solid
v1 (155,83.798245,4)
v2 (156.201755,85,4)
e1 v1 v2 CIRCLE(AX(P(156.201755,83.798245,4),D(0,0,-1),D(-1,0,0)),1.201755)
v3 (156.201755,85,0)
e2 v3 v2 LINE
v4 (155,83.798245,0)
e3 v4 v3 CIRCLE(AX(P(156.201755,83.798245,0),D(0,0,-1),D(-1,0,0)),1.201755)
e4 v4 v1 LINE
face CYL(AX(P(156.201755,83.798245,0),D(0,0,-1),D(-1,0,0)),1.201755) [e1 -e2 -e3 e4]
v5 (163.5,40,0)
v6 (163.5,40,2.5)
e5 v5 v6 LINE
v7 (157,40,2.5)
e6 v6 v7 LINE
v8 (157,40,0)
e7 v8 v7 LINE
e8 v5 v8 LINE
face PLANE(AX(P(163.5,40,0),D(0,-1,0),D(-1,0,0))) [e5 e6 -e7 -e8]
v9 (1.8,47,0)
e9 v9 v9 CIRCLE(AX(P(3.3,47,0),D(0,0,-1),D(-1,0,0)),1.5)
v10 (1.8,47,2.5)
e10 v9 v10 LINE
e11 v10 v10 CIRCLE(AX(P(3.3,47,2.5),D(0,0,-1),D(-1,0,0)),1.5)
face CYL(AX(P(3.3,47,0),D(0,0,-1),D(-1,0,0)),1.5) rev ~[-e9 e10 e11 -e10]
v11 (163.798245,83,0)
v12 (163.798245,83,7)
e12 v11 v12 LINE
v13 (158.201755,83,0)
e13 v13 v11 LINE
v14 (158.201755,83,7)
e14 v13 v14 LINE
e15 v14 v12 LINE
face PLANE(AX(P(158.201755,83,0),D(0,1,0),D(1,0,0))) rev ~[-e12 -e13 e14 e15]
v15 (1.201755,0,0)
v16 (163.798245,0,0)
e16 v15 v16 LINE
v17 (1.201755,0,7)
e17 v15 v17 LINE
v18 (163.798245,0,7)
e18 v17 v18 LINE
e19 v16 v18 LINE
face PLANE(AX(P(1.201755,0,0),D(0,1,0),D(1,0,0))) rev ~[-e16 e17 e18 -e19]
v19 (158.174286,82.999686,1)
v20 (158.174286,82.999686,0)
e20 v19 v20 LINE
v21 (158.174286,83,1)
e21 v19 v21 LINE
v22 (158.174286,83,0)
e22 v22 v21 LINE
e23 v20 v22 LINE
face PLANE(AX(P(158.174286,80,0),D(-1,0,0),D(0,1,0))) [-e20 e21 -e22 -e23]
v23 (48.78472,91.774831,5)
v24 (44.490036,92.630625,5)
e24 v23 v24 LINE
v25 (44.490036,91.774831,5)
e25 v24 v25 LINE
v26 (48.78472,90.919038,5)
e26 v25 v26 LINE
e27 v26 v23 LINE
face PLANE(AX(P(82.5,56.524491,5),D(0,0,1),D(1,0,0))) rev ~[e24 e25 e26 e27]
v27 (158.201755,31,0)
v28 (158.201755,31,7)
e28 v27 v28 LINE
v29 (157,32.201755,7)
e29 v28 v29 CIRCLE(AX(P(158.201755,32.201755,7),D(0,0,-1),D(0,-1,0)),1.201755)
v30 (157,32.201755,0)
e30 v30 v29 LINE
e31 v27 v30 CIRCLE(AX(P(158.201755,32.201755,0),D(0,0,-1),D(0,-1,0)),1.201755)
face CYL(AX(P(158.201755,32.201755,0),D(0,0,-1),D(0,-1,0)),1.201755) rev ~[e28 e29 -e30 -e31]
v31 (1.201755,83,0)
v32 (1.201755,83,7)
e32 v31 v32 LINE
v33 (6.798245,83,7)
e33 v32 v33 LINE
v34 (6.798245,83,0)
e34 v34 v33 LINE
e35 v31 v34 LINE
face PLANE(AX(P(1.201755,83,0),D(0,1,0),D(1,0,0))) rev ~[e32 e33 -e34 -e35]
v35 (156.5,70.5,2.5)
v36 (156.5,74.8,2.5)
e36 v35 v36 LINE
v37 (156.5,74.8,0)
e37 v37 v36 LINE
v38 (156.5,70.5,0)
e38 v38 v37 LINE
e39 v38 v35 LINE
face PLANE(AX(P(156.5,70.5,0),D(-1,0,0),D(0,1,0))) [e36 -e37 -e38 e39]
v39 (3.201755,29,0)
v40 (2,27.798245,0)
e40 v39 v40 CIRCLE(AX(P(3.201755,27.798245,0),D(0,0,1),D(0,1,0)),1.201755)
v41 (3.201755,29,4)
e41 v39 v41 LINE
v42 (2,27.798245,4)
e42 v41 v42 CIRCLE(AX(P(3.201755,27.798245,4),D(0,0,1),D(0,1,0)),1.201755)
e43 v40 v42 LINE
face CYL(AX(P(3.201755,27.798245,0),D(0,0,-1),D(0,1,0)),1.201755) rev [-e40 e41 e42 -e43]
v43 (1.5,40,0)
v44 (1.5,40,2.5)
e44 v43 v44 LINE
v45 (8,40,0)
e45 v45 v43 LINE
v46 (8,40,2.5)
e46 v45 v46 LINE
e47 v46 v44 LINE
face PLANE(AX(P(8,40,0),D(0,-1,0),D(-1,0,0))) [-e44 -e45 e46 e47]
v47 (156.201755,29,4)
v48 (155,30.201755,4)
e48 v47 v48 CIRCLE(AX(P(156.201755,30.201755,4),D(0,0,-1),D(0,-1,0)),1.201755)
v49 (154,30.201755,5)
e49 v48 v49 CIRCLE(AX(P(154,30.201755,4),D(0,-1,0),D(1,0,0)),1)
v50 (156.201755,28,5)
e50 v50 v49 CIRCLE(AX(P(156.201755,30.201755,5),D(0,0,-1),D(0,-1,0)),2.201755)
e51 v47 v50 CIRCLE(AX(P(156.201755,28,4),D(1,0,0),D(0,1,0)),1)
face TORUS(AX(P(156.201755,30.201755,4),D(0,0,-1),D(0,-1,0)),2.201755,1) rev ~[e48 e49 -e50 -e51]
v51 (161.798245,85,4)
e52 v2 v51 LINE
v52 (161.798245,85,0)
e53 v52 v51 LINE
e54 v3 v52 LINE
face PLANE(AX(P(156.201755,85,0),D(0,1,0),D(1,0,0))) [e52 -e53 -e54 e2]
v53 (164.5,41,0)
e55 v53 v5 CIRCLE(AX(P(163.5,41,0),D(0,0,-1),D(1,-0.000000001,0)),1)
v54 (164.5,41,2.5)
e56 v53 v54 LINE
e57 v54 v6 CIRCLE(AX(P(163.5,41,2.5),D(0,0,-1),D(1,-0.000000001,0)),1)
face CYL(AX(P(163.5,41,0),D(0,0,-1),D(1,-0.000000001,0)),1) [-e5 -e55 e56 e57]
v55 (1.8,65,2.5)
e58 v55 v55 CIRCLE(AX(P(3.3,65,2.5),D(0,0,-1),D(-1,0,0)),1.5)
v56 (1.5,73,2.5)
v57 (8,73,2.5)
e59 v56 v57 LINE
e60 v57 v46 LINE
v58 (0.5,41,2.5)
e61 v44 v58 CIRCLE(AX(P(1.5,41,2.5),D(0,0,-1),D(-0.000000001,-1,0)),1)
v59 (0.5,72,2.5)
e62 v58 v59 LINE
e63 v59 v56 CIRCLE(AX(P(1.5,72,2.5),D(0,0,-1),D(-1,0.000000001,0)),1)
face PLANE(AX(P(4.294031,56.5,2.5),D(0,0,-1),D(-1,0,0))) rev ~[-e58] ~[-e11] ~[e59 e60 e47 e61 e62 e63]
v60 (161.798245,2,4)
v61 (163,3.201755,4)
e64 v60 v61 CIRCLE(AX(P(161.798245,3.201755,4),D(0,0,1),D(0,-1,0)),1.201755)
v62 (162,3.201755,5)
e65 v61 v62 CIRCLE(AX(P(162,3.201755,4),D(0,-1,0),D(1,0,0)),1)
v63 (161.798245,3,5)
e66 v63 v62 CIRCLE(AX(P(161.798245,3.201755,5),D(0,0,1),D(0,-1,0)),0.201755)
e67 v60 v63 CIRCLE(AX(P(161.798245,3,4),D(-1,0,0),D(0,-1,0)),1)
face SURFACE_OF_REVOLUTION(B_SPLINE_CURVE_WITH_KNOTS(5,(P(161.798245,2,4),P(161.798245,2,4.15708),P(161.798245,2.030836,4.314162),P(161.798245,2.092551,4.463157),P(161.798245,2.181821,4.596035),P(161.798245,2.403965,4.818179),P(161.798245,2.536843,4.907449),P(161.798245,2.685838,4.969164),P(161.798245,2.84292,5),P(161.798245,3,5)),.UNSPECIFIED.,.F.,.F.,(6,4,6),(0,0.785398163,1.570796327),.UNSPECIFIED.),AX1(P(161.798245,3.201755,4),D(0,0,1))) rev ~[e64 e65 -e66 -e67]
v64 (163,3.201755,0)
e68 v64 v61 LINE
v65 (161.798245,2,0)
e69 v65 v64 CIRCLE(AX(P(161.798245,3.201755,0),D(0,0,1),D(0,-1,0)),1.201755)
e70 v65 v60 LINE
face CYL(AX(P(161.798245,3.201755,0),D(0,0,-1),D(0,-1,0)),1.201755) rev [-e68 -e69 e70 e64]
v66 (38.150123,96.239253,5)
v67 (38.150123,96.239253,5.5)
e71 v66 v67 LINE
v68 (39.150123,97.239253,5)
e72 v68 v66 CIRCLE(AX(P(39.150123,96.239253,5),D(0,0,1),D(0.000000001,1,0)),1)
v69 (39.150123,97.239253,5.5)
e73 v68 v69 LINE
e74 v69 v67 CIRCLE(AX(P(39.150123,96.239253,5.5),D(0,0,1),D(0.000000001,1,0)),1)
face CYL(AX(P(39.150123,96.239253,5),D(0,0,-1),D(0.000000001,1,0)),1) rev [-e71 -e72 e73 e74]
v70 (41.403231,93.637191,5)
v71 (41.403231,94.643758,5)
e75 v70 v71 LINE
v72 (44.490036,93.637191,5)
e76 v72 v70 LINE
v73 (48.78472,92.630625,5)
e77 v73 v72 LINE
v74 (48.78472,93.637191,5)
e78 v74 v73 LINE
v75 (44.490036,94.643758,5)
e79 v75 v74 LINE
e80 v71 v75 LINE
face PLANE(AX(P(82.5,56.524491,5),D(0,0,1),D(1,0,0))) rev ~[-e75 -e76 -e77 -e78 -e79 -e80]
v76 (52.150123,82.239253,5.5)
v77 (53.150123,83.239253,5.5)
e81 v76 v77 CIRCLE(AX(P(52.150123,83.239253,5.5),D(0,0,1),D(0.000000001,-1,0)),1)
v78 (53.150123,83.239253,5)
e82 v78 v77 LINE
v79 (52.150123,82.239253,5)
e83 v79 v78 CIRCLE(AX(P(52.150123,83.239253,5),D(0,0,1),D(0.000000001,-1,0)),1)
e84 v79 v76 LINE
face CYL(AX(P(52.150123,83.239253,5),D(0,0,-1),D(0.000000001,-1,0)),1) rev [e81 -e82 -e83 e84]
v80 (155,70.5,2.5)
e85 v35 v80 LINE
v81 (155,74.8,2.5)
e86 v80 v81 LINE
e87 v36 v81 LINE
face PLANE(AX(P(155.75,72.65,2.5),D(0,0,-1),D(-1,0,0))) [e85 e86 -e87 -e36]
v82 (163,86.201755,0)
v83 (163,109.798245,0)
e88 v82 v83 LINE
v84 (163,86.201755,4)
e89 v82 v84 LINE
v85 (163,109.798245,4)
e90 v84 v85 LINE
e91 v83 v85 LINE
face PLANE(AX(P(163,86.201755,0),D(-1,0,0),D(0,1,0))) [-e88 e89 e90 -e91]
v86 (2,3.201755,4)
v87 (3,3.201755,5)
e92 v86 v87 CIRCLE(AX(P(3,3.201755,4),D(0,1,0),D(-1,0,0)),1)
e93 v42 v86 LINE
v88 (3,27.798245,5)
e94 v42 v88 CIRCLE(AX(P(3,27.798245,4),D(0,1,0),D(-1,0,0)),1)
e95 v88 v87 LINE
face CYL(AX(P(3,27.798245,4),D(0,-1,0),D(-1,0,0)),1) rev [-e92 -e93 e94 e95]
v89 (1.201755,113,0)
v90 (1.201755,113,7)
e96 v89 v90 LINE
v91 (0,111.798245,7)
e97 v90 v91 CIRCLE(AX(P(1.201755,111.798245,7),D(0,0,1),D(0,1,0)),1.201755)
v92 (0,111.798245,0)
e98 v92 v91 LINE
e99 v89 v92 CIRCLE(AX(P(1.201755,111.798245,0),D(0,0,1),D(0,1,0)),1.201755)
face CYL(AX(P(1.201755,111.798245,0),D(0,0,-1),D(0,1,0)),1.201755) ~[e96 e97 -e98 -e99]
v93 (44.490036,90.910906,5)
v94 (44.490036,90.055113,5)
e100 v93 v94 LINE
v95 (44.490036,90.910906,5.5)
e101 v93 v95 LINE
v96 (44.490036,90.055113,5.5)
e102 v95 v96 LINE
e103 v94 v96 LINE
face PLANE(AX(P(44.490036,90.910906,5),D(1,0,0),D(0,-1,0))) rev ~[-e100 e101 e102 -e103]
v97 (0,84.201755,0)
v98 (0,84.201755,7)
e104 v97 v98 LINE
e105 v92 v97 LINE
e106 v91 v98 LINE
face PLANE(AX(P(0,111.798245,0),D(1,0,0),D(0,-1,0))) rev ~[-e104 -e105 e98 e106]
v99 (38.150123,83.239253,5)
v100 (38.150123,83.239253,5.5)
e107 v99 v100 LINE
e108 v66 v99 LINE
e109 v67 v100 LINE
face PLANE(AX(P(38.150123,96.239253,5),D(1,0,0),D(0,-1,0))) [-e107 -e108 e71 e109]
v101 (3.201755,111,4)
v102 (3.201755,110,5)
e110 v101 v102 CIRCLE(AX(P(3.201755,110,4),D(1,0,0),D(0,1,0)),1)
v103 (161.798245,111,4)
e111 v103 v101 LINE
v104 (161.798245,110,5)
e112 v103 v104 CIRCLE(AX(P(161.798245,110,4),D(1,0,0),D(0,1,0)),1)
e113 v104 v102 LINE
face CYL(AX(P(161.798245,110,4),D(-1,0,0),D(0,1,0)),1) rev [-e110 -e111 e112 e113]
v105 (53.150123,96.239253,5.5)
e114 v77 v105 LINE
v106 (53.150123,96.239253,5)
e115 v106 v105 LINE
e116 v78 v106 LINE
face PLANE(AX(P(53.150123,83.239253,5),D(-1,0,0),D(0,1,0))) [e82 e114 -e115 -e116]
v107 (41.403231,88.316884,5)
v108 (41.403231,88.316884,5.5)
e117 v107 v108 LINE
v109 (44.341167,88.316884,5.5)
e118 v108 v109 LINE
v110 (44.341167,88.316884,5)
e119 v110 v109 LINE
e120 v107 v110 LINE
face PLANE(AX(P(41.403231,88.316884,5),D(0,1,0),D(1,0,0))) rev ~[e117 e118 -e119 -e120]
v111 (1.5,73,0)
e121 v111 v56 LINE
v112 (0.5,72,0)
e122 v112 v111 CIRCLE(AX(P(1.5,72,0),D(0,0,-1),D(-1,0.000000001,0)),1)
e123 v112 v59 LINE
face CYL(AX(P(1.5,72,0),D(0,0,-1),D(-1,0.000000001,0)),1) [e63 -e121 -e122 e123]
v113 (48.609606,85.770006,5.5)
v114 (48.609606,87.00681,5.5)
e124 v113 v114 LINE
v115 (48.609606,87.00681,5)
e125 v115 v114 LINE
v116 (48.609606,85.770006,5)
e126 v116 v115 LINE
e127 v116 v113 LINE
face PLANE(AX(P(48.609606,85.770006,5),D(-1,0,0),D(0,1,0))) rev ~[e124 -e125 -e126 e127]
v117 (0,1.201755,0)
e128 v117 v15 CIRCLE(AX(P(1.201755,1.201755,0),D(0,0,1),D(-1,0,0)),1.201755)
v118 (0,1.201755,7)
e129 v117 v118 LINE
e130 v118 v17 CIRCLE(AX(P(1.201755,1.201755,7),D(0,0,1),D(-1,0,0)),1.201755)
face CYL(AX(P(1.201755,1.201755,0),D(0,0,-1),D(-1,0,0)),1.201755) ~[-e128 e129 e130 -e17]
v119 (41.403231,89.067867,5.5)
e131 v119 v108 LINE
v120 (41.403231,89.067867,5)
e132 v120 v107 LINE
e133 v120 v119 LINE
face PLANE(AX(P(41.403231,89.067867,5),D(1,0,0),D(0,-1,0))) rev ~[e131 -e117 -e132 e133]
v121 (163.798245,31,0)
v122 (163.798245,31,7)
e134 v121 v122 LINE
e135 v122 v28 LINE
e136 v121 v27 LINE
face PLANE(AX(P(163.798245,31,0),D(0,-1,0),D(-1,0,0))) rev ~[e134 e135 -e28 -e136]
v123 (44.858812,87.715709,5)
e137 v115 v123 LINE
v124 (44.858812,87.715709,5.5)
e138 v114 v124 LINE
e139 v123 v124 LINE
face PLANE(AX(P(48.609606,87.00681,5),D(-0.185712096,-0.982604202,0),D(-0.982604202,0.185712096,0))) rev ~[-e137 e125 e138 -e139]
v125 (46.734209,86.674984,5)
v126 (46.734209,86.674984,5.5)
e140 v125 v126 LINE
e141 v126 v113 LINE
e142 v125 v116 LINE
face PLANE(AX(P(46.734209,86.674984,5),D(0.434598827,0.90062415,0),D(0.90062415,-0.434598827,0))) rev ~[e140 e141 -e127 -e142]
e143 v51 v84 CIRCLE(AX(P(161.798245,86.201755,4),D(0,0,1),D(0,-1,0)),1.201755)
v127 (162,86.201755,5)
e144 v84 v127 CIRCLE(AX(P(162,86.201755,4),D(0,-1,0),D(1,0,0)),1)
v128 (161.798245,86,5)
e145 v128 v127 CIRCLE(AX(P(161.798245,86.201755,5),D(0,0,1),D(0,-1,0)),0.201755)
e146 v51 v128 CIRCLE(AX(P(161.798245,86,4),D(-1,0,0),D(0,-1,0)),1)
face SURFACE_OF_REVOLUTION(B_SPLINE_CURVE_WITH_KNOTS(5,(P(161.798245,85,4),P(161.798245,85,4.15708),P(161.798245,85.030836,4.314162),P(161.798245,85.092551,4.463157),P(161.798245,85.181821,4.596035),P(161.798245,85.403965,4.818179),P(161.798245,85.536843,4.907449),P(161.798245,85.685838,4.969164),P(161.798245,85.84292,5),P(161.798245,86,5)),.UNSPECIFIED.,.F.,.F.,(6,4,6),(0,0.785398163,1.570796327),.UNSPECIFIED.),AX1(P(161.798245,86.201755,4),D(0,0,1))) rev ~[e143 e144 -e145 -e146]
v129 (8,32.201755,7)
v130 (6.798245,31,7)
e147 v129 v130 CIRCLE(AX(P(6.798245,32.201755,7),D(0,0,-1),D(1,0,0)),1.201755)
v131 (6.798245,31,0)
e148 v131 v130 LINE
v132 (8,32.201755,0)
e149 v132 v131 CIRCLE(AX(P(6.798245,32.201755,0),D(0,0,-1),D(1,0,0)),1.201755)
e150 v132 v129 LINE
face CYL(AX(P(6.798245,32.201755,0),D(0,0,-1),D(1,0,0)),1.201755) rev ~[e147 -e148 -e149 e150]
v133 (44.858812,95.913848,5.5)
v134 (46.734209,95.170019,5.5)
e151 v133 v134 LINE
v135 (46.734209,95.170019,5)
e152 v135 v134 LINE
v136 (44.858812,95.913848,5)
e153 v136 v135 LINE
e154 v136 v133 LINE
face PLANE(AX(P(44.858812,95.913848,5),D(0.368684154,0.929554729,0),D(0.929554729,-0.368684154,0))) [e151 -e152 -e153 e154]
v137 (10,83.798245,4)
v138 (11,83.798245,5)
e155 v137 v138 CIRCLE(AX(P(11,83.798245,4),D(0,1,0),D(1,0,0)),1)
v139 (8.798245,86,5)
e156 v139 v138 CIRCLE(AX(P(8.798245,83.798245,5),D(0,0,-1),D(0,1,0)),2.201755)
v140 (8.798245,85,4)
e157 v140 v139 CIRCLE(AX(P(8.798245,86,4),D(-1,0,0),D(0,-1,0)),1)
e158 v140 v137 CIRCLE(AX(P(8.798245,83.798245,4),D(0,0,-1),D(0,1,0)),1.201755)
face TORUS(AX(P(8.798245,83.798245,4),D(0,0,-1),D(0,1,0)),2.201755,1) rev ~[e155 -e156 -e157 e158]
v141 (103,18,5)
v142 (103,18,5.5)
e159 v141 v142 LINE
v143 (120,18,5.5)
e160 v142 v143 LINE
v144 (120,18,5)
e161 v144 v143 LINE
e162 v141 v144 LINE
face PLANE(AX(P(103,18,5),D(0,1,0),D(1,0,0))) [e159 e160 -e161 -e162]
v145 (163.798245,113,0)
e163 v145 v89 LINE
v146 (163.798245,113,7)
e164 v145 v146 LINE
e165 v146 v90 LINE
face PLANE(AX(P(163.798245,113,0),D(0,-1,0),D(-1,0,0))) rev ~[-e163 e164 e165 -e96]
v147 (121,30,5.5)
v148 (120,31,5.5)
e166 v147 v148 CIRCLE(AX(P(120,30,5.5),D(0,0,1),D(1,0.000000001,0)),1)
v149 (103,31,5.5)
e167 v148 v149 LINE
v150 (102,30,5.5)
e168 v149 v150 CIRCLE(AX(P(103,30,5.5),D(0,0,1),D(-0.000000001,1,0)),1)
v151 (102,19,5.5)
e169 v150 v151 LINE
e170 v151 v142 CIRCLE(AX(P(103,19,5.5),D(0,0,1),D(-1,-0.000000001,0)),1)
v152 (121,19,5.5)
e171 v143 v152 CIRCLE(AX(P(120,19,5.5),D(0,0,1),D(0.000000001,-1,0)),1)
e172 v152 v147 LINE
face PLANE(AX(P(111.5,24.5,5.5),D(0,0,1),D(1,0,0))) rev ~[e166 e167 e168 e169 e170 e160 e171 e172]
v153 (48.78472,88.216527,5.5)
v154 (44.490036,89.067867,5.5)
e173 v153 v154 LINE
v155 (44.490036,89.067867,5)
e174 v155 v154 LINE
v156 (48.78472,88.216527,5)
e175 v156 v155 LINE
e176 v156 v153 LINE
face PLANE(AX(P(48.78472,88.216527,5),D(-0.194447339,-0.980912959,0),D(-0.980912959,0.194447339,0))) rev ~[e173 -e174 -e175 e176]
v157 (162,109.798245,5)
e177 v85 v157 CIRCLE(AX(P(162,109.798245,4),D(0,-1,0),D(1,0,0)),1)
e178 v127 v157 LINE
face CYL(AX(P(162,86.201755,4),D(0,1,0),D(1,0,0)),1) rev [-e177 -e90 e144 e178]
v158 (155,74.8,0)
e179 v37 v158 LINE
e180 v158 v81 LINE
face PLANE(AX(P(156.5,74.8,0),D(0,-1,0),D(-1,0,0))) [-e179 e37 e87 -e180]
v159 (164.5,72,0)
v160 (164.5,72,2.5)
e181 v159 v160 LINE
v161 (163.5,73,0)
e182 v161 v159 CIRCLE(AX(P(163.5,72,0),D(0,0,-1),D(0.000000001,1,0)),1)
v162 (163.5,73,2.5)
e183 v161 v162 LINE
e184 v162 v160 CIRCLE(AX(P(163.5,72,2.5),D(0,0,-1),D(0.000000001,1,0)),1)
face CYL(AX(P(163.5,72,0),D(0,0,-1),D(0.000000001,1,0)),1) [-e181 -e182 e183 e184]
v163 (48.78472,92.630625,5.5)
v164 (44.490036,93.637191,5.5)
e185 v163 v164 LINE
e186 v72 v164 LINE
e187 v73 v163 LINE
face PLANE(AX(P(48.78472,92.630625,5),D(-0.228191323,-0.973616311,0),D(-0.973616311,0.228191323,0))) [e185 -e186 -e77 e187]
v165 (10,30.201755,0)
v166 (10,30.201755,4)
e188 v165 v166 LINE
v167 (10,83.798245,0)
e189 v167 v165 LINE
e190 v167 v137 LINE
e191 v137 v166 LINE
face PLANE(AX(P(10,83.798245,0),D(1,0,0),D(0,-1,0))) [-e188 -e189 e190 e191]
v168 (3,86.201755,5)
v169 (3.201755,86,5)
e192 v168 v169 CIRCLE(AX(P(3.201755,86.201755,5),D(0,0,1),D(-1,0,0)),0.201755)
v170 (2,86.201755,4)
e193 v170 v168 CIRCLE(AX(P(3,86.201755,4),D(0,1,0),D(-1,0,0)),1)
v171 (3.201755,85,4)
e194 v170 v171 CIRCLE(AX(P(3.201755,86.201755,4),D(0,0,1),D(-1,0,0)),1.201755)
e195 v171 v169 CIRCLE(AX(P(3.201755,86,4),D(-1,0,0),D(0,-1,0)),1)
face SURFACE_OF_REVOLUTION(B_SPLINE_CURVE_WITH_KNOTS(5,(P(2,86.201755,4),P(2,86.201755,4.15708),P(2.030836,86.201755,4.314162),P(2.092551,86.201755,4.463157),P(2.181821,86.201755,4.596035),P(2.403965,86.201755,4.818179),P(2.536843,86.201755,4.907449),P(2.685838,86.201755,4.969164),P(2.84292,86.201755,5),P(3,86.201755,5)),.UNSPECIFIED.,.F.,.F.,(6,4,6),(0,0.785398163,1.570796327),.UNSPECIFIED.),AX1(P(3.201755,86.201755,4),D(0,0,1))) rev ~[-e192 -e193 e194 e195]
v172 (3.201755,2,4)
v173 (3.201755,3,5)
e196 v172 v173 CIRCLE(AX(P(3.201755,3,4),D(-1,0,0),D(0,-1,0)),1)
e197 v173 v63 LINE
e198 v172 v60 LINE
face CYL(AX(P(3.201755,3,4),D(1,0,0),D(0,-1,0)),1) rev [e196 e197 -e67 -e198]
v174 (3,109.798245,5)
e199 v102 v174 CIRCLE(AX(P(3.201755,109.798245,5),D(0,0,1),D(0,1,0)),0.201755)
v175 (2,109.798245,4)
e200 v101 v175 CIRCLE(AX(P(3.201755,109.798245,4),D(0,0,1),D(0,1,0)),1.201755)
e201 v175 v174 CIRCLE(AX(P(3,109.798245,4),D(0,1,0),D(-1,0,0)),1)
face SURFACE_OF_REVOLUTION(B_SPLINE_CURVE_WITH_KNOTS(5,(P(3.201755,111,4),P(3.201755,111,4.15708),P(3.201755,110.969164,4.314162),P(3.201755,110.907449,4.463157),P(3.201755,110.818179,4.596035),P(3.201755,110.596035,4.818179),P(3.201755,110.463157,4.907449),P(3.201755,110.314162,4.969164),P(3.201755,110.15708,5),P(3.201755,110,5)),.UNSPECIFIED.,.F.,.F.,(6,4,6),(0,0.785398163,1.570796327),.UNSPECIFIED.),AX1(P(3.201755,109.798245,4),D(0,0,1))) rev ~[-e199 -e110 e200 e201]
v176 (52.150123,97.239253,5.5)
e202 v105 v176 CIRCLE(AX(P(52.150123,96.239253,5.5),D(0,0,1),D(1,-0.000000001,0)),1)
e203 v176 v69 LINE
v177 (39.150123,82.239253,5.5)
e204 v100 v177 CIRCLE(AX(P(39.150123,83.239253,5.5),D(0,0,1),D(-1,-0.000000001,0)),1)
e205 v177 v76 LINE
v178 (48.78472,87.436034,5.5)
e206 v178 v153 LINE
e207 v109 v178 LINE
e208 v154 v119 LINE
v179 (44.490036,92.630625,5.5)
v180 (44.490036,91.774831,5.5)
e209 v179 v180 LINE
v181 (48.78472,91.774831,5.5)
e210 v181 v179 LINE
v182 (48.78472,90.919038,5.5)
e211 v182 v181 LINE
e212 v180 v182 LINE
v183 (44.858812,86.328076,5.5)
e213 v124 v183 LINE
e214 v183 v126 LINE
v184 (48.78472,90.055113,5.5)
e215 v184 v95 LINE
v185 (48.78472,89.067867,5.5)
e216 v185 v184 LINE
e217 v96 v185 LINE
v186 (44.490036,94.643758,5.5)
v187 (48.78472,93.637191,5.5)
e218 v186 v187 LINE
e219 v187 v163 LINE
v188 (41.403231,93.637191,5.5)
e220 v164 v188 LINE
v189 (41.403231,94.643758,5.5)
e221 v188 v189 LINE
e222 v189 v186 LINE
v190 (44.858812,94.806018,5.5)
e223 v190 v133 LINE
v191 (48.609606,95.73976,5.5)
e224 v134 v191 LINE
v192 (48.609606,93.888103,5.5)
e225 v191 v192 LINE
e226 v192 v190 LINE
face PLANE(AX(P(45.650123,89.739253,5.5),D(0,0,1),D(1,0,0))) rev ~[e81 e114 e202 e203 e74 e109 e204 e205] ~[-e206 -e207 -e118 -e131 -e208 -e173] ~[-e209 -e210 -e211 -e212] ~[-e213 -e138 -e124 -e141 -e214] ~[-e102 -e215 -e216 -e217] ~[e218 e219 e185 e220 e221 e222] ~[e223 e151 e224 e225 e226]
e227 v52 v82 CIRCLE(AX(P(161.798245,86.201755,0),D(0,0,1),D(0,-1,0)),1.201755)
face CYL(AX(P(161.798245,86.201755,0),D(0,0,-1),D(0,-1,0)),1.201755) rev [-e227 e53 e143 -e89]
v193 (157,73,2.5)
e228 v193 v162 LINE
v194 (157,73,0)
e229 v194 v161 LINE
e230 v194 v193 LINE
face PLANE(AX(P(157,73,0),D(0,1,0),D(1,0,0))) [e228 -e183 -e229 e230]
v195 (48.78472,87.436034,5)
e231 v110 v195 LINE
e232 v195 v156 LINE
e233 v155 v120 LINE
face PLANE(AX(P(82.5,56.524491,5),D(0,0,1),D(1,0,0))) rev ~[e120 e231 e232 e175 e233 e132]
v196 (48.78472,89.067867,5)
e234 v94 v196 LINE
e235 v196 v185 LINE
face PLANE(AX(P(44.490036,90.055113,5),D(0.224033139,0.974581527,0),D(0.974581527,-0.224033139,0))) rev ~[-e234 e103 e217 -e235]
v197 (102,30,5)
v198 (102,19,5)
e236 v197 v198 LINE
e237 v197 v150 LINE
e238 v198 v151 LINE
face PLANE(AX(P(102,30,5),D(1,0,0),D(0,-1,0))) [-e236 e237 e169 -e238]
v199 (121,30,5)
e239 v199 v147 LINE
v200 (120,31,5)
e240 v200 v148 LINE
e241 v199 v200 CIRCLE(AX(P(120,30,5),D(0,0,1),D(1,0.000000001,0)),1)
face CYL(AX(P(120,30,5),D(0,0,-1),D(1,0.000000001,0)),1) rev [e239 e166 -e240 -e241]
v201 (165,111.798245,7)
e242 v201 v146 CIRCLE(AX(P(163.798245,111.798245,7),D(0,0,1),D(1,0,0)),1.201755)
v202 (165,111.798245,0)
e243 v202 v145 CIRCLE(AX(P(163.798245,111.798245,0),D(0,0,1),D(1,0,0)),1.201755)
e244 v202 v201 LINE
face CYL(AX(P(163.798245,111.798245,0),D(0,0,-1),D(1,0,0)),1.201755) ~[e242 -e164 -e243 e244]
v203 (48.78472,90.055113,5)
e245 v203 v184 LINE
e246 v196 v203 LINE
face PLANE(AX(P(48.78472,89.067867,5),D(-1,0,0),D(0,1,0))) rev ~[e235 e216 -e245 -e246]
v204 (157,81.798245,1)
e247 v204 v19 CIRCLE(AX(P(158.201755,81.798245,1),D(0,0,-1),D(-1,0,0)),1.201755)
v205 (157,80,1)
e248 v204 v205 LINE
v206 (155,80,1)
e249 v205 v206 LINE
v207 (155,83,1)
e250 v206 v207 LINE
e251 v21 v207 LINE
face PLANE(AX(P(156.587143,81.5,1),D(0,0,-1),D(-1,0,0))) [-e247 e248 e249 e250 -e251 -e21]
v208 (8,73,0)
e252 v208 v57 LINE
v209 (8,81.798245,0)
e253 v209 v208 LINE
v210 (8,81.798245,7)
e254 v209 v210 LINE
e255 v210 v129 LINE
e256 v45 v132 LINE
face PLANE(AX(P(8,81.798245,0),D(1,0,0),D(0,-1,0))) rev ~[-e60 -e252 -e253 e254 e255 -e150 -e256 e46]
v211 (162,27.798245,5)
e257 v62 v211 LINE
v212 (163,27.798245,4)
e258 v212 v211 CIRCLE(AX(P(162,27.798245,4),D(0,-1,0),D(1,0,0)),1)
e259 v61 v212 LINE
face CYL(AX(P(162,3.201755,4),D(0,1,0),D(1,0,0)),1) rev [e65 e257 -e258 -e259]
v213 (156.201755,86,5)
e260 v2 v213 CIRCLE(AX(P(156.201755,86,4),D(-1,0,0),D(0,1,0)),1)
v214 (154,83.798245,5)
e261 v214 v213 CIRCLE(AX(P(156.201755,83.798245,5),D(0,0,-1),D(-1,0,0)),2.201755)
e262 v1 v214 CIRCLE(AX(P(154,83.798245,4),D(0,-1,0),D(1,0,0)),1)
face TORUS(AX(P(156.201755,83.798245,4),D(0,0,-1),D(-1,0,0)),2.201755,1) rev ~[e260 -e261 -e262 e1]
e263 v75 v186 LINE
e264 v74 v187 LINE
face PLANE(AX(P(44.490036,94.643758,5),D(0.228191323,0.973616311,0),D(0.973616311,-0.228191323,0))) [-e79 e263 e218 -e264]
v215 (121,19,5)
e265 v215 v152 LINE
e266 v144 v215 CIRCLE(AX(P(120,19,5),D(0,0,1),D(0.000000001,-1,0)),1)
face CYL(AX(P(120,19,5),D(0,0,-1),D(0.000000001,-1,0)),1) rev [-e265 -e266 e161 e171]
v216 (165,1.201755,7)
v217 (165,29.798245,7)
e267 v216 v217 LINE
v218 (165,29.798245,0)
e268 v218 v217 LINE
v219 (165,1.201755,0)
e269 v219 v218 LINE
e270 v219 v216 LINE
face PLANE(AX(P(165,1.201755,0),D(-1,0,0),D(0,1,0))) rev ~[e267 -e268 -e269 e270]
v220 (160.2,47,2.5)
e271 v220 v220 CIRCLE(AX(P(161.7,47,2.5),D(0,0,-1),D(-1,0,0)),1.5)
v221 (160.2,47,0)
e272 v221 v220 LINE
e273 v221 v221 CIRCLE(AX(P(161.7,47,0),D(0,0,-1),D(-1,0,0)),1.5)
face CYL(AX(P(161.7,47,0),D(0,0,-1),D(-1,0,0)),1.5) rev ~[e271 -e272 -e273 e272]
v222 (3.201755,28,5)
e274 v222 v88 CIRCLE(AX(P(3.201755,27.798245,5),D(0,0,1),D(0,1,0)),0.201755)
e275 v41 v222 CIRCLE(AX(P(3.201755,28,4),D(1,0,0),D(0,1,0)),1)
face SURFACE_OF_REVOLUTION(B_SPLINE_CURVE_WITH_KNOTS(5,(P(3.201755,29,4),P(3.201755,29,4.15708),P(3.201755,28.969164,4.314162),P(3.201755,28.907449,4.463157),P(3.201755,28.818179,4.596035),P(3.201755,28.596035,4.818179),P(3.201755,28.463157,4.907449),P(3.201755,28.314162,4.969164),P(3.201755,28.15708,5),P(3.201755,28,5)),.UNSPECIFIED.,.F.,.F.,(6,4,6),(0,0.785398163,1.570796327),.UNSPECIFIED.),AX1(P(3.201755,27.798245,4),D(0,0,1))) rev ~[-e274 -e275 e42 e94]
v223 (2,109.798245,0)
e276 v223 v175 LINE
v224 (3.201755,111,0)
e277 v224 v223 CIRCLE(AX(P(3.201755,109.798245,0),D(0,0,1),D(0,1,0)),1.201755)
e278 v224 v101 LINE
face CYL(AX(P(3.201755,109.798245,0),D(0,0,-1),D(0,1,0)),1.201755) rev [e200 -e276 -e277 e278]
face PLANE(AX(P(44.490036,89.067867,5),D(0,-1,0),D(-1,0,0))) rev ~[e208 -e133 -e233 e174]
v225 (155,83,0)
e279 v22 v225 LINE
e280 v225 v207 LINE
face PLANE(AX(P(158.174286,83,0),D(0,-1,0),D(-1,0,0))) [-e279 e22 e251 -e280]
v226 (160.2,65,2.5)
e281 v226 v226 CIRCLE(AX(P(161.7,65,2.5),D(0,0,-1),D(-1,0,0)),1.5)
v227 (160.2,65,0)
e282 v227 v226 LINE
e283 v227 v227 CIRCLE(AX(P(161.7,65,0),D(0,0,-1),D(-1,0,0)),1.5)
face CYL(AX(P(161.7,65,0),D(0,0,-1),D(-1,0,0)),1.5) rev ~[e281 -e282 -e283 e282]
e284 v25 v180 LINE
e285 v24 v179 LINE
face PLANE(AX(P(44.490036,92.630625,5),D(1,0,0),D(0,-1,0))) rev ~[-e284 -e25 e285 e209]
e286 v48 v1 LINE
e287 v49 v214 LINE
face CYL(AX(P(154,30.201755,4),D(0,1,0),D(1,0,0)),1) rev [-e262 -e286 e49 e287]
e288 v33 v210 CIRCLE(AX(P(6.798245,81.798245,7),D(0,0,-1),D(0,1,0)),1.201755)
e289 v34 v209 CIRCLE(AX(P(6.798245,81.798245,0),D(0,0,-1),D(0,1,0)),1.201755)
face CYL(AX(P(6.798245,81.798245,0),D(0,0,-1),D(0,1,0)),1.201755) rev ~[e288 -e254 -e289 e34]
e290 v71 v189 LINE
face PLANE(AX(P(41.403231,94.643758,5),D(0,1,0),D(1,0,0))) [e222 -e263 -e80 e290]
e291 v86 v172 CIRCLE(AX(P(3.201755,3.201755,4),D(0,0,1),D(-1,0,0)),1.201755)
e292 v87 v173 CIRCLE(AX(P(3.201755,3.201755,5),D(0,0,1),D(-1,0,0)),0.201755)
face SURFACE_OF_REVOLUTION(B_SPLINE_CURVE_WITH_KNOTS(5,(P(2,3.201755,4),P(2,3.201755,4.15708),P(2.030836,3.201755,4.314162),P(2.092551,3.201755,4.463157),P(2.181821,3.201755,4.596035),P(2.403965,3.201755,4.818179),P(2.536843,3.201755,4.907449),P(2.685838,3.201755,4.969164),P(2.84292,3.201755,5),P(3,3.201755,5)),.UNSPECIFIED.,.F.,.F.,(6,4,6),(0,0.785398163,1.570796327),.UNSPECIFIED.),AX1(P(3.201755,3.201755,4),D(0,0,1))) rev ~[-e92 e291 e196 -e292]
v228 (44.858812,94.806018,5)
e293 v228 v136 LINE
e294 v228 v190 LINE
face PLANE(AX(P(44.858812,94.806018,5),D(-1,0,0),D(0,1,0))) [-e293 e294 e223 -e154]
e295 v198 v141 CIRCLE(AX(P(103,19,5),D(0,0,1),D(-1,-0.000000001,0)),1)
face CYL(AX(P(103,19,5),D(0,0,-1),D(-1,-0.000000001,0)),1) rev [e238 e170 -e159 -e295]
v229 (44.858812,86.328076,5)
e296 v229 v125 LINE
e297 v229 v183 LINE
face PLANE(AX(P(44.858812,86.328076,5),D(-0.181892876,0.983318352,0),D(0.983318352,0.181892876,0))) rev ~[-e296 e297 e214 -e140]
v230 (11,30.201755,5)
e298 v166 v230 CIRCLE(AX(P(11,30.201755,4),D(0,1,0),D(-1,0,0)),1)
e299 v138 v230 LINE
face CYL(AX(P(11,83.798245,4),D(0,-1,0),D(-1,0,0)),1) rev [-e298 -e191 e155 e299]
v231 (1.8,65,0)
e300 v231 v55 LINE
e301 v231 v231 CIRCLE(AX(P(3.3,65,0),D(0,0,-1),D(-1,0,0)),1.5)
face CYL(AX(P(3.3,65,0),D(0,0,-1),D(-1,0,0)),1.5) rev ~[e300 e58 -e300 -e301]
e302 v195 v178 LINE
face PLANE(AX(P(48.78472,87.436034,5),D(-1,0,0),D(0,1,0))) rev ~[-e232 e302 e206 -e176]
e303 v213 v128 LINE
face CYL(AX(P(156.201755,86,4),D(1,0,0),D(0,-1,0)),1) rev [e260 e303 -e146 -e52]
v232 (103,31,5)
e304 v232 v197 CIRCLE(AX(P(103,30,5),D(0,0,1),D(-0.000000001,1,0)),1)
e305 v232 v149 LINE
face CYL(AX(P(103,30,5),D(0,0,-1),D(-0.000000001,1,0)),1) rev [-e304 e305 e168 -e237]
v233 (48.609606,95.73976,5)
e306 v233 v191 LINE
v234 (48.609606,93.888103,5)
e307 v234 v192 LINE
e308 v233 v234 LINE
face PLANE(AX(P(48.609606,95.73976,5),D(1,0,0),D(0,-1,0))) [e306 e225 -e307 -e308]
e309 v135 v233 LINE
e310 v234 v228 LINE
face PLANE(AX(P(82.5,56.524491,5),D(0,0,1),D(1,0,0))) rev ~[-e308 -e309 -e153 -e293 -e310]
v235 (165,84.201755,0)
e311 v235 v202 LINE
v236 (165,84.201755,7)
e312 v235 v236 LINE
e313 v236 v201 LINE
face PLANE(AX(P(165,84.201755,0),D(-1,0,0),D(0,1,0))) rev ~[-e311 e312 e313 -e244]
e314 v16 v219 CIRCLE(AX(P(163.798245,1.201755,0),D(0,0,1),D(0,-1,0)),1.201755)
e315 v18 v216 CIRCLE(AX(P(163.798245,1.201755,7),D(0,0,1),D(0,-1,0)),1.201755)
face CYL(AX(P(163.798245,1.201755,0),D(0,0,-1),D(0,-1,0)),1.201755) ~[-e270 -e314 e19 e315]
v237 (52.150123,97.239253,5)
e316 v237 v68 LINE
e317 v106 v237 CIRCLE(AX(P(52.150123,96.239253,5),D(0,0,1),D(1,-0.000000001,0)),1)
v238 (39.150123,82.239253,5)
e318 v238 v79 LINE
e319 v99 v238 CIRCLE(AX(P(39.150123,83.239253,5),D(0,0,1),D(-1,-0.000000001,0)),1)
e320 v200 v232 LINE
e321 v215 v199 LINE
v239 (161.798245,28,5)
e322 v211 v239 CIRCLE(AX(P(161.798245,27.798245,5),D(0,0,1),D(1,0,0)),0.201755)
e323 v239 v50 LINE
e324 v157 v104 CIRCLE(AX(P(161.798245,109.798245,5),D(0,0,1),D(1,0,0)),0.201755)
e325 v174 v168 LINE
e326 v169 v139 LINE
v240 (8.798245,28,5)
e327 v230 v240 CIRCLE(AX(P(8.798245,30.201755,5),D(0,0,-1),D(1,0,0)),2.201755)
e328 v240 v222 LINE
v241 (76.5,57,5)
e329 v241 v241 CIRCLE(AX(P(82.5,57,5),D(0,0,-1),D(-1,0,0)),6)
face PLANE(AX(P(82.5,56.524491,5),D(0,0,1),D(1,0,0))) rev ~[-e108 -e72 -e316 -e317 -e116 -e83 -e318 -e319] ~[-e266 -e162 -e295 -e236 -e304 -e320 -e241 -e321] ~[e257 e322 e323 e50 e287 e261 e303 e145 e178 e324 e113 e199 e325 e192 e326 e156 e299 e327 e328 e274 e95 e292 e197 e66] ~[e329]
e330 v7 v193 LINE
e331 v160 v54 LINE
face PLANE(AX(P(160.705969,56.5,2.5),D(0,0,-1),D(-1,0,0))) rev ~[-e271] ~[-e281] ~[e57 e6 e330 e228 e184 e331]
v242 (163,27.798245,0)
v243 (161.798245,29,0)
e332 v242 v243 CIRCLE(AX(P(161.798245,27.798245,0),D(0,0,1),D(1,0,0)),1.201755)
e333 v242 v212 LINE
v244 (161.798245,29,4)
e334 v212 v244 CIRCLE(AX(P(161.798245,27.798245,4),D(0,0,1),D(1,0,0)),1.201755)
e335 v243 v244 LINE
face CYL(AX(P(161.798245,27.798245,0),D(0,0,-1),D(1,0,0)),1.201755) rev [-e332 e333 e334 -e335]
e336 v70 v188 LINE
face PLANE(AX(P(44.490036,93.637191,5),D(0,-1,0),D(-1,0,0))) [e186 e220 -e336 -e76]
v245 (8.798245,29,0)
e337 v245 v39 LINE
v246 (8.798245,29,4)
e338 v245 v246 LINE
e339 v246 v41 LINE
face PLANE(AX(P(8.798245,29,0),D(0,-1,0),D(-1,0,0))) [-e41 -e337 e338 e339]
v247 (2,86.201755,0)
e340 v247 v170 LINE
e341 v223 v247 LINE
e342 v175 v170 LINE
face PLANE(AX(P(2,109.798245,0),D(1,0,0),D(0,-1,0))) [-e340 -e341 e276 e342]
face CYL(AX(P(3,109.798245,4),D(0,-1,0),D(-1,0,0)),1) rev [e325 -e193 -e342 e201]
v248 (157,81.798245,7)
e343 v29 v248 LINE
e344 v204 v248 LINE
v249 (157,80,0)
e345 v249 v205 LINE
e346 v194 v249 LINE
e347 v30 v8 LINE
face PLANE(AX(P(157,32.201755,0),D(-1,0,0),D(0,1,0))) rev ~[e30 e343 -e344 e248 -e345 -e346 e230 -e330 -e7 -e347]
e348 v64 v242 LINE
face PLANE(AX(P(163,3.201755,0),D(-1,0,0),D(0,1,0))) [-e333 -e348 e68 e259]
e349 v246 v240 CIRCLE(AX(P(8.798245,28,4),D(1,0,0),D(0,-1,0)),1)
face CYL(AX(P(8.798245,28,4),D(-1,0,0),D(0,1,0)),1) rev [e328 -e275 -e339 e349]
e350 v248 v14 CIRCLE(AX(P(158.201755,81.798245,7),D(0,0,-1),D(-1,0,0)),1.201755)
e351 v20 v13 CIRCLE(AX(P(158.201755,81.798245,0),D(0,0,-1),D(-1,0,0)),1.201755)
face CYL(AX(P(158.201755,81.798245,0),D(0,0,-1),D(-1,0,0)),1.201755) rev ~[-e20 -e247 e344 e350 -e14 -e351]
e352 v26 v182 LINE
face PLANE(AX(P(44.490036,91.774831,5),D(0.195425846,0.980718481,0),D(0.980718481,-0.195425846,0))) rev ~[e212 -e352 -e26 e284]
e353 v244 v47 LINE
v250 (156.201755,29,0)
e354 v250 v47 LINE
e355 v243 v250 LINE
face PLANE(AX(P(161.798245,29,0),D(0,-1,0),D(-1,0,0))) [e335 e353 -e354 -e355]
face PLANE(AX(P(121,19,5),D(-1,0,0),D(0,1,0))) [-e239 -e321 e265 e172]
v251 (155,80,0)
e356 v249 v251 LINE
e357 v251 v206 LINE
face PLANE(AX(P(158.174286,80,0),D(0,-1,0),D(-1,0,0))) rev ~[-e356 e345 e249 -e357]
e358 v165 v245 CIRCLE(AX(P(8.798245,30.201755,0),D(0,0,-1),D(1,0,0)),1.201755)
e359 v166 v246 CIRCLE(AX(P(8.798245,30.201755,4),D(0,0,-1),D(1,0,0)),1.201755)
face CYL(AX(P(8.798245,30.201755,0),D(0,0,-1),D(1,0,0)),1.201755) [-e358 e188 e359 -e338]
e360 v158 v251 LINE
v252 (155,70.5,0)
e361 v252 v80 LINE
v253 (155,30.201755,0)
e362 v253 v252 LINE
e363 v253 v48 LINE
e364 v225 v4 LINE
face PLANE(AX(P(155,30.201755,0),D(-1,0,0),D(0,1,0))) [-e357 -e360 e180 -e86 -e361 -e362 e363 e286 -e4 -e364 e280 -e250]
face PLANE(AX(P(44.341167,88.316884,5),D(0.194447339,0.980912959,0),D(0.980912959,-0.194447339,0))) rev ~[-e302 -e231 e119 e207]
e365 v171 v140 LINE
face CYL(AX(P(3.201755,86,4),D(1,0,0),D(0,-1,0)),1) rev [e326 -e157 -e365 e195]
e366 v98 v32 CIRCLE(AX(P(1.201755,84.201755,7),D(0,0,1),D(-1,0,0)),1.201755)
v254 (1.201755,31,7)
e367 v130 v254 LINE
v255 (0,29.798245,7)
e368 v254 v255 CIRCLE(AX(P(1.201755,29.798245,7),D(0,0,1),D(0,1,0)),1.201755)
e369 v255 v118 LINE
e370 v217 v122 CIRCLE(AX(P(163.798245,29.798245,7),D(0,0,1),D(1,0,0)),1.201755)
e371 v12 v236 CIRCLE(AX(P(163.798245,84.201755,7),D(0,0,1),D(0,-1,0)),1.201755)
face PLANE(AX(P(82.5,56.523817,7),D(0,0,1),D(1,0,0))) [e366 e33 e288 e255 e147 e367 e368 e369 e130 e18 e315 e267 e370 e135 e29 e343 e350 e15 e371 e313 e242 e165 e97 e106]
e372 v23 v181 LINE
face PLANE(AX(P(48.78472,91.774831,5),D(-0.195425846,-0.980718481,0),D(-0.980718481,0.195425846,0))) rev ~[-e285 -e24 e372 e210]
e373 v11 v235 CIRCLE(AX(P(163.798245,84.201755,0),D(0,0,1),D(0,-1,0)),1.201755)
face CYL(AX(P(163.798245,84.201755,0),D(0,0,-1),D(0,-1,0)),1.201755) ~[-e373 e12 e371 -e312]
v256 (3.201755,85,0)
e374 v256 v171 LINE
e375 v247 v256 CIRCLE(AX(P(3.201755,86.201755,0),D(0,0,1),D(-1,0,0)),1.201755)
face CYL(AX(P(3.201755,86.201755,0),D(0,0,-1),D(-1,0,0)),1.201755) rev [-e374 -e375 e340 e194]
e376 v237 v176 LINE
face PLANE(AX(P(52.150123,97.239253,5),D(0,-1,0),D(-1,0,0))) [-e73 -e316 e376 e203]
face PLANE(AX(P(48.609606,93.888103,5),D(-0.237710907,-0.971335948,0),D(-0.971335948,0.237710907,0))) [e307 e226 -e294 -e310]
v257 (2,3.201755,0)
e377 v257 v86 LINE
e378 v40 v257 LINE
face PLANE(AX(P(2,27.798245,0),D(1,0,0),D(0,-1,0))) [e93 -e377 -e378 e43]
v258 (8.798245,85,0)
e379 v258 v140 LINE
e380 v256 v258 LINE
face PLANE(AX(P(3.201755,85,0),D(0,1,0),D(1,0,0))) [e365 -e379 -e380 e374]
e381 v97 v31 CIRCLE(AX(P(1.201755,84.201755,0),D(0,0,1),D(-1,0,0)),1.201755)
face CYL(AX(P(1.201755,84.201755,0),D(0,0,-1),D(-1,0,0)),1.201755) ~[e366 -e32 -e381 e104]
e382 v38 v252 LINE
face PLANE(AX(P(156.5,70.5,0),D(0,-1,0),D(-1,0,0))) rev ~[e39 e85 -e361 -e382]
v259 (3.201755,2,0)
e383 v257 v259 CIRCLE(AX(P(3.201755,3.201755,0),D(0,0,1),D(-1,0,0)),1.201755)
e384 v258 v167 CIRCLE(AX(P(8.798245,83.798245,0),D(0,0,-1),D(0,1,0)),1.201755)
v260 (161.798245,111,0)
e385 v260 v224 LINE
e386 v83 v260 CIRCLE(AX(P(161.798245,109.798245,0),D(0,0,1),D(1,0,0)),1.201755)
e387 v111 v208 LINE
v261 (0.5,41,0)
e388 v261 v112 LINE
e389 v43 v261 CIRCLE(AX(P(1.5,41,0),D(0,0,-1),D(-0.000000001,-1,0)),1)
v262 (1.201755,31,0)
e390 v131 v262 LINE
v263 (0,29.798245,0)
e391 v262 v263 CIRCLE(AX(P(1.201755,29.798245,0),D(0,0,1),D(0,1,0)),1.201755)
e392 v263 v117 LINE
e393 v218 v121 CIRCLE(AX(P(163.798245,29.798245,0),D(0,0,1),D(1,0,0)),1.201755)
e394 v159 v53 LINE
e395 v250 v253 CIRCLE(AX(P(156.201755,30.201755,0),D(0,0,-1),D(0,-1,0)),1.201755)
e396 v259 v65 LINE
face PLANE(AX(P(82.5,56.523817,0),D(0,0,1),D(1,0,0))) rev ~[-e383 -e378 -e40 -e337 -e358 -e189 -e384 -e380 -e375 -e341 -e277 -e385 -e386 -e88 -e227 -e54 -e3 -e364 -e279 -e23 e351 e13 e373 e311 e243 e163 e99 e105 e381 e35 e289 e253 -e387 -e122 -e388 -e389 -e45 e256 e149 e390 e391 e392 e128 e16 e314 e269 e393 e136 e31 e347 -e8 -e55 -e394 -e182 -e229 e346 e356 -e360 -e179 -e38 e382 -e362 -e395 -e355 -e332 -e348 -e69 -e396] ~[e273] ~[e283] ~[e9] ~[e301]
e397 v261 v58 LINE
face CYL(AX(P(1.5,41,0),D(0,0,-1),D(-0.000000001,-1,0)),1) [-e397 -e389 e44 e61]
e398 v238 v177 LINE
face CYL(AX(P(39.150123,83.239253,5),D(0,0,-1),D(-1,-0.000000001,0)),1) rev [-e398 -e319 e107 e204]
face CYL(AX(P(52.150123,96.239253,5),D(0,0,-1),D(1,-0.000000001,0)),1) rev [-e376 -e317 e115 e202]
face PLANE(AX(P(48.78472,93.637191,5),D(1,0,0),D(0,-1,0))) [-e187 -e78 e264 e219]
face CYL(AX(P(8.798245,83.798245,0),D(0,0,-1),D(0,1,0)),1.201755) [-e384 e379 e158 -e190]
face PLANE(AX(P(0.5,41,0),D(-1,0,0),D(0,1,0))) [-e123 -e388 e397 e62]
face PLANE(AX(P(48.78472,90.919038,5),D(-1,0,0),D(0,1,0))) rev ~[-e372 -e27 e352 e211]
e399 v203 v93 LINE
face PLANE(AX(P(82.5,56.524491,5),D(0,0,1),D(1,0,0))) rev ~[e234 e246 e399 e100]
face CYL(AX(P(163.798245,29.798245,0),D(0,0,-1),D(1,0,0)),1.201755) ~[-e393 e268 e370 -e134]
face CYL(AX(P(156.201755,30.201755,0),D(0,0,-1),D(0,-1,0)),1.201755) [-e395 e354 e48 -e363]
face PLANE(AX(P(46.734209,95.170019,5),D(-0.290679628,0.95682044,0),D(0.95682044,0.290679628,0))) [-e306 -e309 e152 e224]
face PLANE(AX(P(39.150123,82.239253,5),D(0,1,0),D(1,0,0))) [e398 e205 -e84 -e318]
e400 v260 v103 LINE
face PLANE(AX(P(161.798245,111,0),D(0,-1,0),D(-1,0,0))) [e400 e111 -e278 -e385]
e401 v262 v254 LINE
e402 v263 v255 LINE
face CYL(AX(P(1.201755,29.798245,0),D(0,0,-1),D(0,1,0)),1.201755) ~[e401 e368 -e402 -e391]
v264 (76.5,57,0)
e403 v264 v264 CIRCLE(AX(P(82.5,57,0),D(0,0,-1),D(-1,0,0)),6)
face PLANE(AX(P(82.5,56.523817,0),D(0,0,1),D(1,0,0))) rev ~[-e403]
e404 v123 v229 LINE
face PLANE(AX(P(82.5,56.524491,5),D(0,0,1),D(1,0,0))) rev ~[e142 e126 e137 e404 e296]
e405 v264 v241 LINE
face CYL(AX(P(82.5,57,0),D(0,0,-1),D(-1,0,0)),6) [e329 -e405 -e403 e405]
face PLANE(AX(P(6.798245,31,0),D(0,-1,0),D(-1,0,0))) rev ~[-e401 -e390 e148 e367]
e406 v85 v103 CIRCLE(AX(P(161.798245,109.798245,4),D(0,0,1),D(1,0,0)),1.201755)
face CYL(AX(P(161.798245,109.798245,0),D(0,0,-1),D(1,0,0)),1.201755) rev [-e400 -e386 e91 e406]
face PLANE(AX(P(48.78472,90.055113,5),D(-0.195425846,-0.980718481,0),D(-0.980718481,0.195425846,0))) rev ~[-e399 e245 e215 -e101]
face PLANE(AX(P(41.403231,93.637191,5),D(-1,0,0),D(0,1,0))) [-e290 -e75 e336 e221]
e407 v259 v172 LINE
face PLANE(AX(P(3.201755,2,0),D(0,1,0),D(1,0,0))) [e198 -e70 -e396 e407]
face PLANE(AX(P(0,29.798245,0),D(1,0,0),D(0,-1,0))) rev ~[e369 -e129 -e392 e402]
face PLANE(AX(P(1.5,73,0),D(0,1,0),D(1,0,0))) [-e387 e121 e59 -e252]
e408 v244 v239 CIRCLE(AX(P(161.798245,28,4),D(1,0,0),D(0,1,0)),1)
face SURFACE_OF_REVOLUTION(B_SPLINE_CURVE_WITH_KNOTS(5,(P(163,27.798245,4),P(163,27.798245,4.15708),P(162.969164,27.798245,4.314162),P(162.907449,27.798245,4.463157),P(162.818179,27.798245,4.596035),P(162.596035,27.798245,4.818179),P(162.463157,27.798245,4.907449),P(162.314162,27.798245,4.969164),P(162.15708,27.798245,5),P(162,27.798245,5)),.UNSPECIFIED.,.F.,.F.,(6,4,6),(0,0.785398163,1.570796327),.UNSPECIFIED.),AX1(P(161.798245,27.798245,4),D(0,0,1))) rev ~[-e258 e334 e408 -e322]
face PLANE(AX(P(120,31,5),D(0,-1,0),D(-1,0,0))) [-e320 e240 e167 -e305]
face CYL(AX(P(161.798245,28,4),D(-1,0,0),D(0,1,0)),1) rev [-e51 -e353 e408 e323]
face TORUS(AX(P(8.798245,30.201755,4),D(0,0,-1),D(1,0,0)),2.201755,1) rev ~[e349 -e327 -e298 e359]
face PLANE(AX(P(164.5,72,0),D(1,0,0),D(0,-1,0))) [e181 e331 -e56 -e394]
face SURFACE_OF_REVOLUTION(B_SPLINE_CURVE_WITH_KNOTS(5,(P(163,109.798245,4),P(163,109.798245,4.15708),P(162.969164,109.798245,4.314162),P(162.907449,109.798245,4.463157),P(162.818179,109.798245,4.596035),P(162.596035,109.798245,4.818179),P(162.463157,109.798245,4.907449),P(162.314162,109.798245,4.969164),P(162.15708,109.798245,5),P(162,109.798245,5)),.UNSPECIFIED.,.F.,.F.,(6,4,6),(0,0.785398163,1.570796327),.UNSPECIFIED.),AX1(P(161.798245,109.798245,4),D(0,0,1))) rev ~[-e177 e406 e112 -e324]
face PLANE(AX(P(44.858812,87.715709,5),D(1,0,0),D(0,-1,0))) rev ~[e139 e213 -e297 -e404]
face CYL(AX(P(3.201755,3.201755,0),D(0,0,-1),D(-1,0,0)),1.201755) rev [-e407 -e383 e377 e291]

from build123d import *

# Parameters (mm, degrees)
EXTRUDE_1_DEPTH     = 7
SKETCH_2_R          = 6
CUT_EXTRUDE_1_DEPTH = 5
CUT_EXTRUDE_2_DEPTH = 0.5
FILLET_1_R          = 1
SKETCH_4_R          = 1.5
EXTRUDE_3_DEPTH     = 2.5
SKETCH_5_W          = 1.5
SKETCH_5_H          = 4.3
CUT_EXTRUDE_3_DEPTH = 2.5
SKETCH_6_W          = 3.174285876
SKETCH_6_H          = 3
CUT_EXTRUDE_4_DEPTH = 1


with BuildPart() as part:
    # Эскиз1 → Бобышка-Вытянуть1 (new body)
    with BuildSketch(Plane.XY):
        with BuildLine():
            Line((1.201755047, 83), (6.798244953, 83))
            ThreePointArc((6.798244953, 83), (7.648014096, 82.648014096), (8, 81.798244953))
            Line((8, 81.798244953), (8, 32.201755047))
            ThreePointArc((8, 32.201755047), (7.648014096, 31.351985904), (6.798244953, 31))
            Line((6.798244953, 31), (1.201755047, 31))
            ThreePointArc((1.201755047, 31), (0.351985904, 30.648014096), (0, 29.798244953))
            Line((0, 29.798244953), (0, 1.201755047))
            ThreePointArc((0, 1.201755047), (0.351985904, 0.351985904), (1.201755047, 0))
            Line((1.201755047, 0), (163.798244953, 0))
            ThreePointArc((163.798244953, 0), (164.648014096, 0.351985904), (165, 1.201755047))
            Line((165, 1.201755047), (165, 29.798244953))
            ThreePointArc((165, 29.798244953), (164.648014096, 30.648014096), (163.798244953, 31))
            Line((163.798244953, 31), (158.201755047, 31))
            ThreePointArc((158.201755047, 31), (157.351985904, 31.351985904), (157, 32.201755047))
            Line((157, 32.201755047), (157, 81.798244953))
            ThreePointArc((157, 81.798244953), (157.351985904, 82.648014096), (158.201755047, 83))
            Line((158.201755047, 83), (163.798244953, 83))
            ThreePointArc((163.798244953, 83), (164.648014096, 83.351985904), (165, 84.201755047))
            Line((165, 84.201755047), (165, 111.798244953))
            ThreePointArc((165, 111.798244953), (164.648014096, 112.648014096), (163.798244953, 113))
            Line((163.798244953, 113), (1.201755047, 113))
            ThreePointArc((1.201755047, 113), (0.351985904, 112.648014096), (0, 111.798244953))
            Line((0, 111.798244953), (0, 84.201755047))
            ThreePointArc((0, 84.201755047), (0.351985904, 83.351985904), (1.201755047, 83))
        make_face()
    extrude(amount=EXTRUDE_1_DEPTH)

    # Эскиз2 → Вырез-Вытянуть1 (cut)
    with BuildSketch(Plane(origin=(0, 0, 0), x_dir=(-1, 0, 0), z_dir=(0, 0, -1))):
        with BuildLine():
            Line((-161.798244953, 111), (-3.201755047, 111))
            ThreePointArc((-3.201755047, 111), (-2.351985904, 110.648014096), (-2, 109.798244953))
            Line((-2, 109.798244953), (-2, 86.201755047))
            ThreePointArc((-2, 86.201755047), (-2.351985904, 85.351985904), (-3.201755047, 85))
            Line((-3.201755047, 85), (-8.798244953, 85))
            ThreePointArc((-8.798244953, 85), (-9.648014096, 84.648014096), (-10, 83.798244953))
            Line((-10, 83.798244953), (-10, 30.201755047))
            ThreePointArc((-10, 30.201755047), (-9.648014096, 29.351985904), (-8.798244953, 29))
            Line((-8.798244953, 29), (-3.201755047, 29))
            ThreePointArc((-3.201755047, 29), (-2.351985904, 28.648014096), (-2, 27.798244953))
            Line((-2, 27.798244953), (-2, 3.201755047))
            ThreePointArc((-2, 3.201755047), (-2.351985904, 2.351985904), (-3.201755047, 2))
            Line((-3.201755047, 2), (-161.798244953, 2))
            ThreePointArc((-161.798244953, 2), (-162.648014096, 2.351985904), (-163, 3.201755047))
            Line((-163, 3.201755047), (-163, 27.798244953))
            ThreePointArc((-163, 27.798244953), (-162.648014096, 28.648014096), (-161.798244953, 29))
            Line((-161.798244953, 29), (-156.201755047, 29))
            ThreePointArc((-156.201755047, 29), (-155.351985904, 29.351985904), (-155, 30.201755047))
            Line((-155, 30.201755047), (-155, 70.5))
            Line((-155, 70.5), (-155, 74.8))
            Line((-155, 74.8), (-155, 83.798244953))
            ThreePointArc((-155, 83.798244953), (-155.351985904, 84.648014096), (-156.201755047, 85))
            Line((-156.201755047, 85), (-161.798244953, 85))
            ThreePointArc((-161.798244953, 85), (-162.648014096, 85.351985904), (-163, 86.201755047))
            Line((-163, 86.201755047), (-163, 109.798244953))
            ThreePointArc((-163, 109.798244953), (-162.648014096, 110.648014096), (-161.798244953, 111))
        make_face()
        with Locations((-82.5, 57)):
            Circle(SKETCH_2_R, mode=Mode.SUBTRACT)
    extrude(amount=-CUT_EXTRUDE_1_DEPTH, mode=Mode.SUBTRACT)

    # Эскиз3 → Вырез-Вытянуть2 (cut)
    # profile 1 of 2: a face of its own
    with BuildSketch(Plane(origin=(0, 0, 5), x_dir=(-1, 0, 0), z_dir=(0, 0, -1))):
        with BuildLine():
            Line((-120, 31), (-103, 31))
            ThreePointArc((-103, 31), (-102.292893219, 30.707106781), (-102, 30))
            Line((-102, 30), (-102, 19))
            ThreePointArc((-102, 19), (-102.292893219, 18.292893219), (-103, 18))
            Line((-103, 18), (-120, 18))
            ThreePointArc((-120, 18), (-120.707106781, 18.292893219), (-121, 19))
            Line((-121, 19), (-121, 30))
            ThreePointArc((-121, 30), (-120.707106781, 30.707106781), (-120, 31))
        make_face()
    # profile 2 of 2: a face of its own
    with BuildSketch(Plane(origin=(0, 0, 5), x_dir=(-1, 0, 0), z_dir=(0, 0, -1))):
        with BuildLine():
            Line((-52.1501229, 97.239252875), (-39.1501229, 97.239252875))
            ThreePointArc((-39.1501229, 97.239252875), (-38.443016119, 96.946359657), (-38.1501229, 96.239252875))
            Line((-38.1501229, 96.239252875), (-38.1501229, 83.239252875))
            ThreePointArc((-38.1501229, 83.239252875), (-38.443016119, 82.532146094), (-39.1501229, 82.239252875))
            Line((-39.1501229, 82.239252875), (-52.1501229, 82.239252875))
            ThreePointArc((-52.1501229, 82.239252875), (-52.857229681, 82.532146094), (-53.1501229, 83.239252875))
            Line((-53.1501229, 83.239252875), (-53.1501229, 96.239252875))
            ThreePointArc((-53.1501229, 96.239252875), (-52.857229681, 96.946359657), (-52.1501229, 97.239252875))
        make_face()
        Polygon((-41.403231286, 94.64375803), (-44.490035641, 94.64375803), (-48.784719961, 93.637191392), (-48.784719961, 92.630624755), (-44.490035641, 93.637191392), (-41.403231286, 93.637191392), align=None, mode=Mode.SUBTRACT)
        Polygon((-48.784719961, 91.774831443), (-44.490035641, 92.630624755), (-44.490035641, 91.774831443), (-48.784719961, 90.91903813), align=None, mode=Mode.SUBTRACT)
        Polygon((-48.784719961, 90.055112789), (-44.490035641, 90.910906102), (-44.490035641, 90.055112789), (-48.784719961, 89.067866896), align=None, mode=Mode.SUBTRACT)
        Polygon((-48.784719961, 88.216527408), (-44.490035641, 89.067866896), (-41.403231286, 89.067866896), (-41.403231286, 88.316883581), (-44.341167482, 88.316883581), (-48.784719961, 87.436033812), align=None, mode=Mode.SUBTRACT)
        Polygon((-48.609605566, 93.888102843), (-44.858812452, 94.806018458), (-44.858812452, 95.913847648), (-46.734209009, 95.170019477), (-48.609605566, 95.739760204), align=None, mode=Mode.SUBTRACT)
        Polygon((-48.609605566, 87.006809767), (-44.858812452, 87.715709289), (-44.858812452, 86.328076183), (-46.734209009, 86.674984459), (-48.609605566, 85.770006347), align=None, mode=Mode.SUBTRACT)
    extrude(amount=-CUT_EXTRUDE_2_DEPTH, mode=Mode.SUBTRACT)

    # Скругление1
    fillet_1_edges = [part.edges().sort_by_distance(p)[0] for p in [
        (155, 57, 5),
        (155.351985904, 84.648014096, 5),
        (159, 85, 5),
        (162.648014096, 85.351985904, 5),
        (163, 98, 5),
        (162.648014096, 110.648014096, 5),
        (82.5, 111, 5),
        (2.351985904, 110.648014096, 5),
        (2, 98, 5),
        (2.351985904, 85.351985904, 5),
        (6, 85, 5),
        (9.648014096, 84.648014096, 5),
        (10, 57, 5),
        (9.648014096, 29.351985904, 5),
        (6, 29, 5),
        (2.351985904, 28.648014096, 5),
        (2, 15.5, 5),
        (2.351985904, 2.351985904, 5),
        (82.5, 2, 5),
        (162.648014096, 2.351985904, 5),
        (163, 15.5, 5),
        (162.648014096, 28.648014096, 5),
        (159, 29, 5),
        (155.351985904, 29.351985904, 5),
    ]]
    fillet(fillet_1_edges, radius=FILLET_1_R)

    # Эскиз4 → Бобышка-Вытянуть3 (add)
    # profile 1 of 2: a face of its own
    with BuildSketch(Plane(origin=(0, 0, 0), x_dir=(-1, 0, 0), z_dir=(0, 0, -1))):
        with BuildLine():
            Line((-157, 73), (-163.5, 73))
            ThreePointArc((-163.5, 73), (-164.207106781, 72.707106781), (-164.5, 72))
            Line((-164.5, 72), (-164.5, 41))
            ThreePointArc((-164.5, 41), (-164.207106781, 40.292893219), (-163.5, 40))
            Line((-163.5, 40), (-157, 40))
            Line((-157, 40), (-157, 73))
        make_face()
        with Locations((-161.7, 47)):
            Circle(SKETCH_4_R, mode=Mode.SUBTRACT)
        with Locations((-161.7, 65)):
            Circle(SKETCH_4_R, mode=Mode.SUBTRACT)
    # profile 2 of 2: a face of its own
    with BuildSketch(Plane(origin=(0, 0, 0), x_dir=(-1, 0, 0), z_dir=(0, 0, -1))):
        with BuildLine():
            Line((-1.5, 73), (-8, 73))
            Line((-8, 73), (-8, 40))
            Line((-8, 40), (-1.5, 40))
            ThreePointArc((-1.5, 40), (-0.792893219, 40.292893219), (-0.5, 41))
            Line((-0.5, 41), (-0.5, 72))
            ThreePointArc((-0.5, 72), (-0.792893219, 72.707106781), (-1.5, 73))
        make_face()
        with Locations((-3.3, 47)):
            Circle(SKETCH_4_R, mode=Mode.SUBTRACT)
        with Locations((-3.3, 65)):
            Circle(SKETCH_4_R, mode=Mode.SUBTRACT)
    extrude(amount=-EXTRUDE_3_DEPTH)

    # Эскиз5 → Вырез-Вытянуть3 (cut)
    with BuildSketch(Plane(origin=(0, 0, 0), x_dir=(-1, 0, 0), z_dir=(0, 0, -1))):
        with Locations((-155.75, 72.65)):
            Rectangle(SKETCH_5_W, SKETCH_5_H)
    extrude(amount=-CUT_EXTRUDE_3_DEPTH, mode=Mode.SUBTRACT)

    # Эскиз6 → Вырез-Вытянуть4 (cut)
    with BuildSketch(Plane(origin=(0, 0, 0), x_dir=(-1, 0, 0), z_dir=(0, 0, -1))):
        with Locations((-156.587142938, 81.5)):
            Rectangle(SKETCH_6_W, SKETCH_6_H)
    extrude(amount=-CUT_EXTRUDE_4_DEPTH, mode=Mode.SUBTRACT)


solid = part.part
